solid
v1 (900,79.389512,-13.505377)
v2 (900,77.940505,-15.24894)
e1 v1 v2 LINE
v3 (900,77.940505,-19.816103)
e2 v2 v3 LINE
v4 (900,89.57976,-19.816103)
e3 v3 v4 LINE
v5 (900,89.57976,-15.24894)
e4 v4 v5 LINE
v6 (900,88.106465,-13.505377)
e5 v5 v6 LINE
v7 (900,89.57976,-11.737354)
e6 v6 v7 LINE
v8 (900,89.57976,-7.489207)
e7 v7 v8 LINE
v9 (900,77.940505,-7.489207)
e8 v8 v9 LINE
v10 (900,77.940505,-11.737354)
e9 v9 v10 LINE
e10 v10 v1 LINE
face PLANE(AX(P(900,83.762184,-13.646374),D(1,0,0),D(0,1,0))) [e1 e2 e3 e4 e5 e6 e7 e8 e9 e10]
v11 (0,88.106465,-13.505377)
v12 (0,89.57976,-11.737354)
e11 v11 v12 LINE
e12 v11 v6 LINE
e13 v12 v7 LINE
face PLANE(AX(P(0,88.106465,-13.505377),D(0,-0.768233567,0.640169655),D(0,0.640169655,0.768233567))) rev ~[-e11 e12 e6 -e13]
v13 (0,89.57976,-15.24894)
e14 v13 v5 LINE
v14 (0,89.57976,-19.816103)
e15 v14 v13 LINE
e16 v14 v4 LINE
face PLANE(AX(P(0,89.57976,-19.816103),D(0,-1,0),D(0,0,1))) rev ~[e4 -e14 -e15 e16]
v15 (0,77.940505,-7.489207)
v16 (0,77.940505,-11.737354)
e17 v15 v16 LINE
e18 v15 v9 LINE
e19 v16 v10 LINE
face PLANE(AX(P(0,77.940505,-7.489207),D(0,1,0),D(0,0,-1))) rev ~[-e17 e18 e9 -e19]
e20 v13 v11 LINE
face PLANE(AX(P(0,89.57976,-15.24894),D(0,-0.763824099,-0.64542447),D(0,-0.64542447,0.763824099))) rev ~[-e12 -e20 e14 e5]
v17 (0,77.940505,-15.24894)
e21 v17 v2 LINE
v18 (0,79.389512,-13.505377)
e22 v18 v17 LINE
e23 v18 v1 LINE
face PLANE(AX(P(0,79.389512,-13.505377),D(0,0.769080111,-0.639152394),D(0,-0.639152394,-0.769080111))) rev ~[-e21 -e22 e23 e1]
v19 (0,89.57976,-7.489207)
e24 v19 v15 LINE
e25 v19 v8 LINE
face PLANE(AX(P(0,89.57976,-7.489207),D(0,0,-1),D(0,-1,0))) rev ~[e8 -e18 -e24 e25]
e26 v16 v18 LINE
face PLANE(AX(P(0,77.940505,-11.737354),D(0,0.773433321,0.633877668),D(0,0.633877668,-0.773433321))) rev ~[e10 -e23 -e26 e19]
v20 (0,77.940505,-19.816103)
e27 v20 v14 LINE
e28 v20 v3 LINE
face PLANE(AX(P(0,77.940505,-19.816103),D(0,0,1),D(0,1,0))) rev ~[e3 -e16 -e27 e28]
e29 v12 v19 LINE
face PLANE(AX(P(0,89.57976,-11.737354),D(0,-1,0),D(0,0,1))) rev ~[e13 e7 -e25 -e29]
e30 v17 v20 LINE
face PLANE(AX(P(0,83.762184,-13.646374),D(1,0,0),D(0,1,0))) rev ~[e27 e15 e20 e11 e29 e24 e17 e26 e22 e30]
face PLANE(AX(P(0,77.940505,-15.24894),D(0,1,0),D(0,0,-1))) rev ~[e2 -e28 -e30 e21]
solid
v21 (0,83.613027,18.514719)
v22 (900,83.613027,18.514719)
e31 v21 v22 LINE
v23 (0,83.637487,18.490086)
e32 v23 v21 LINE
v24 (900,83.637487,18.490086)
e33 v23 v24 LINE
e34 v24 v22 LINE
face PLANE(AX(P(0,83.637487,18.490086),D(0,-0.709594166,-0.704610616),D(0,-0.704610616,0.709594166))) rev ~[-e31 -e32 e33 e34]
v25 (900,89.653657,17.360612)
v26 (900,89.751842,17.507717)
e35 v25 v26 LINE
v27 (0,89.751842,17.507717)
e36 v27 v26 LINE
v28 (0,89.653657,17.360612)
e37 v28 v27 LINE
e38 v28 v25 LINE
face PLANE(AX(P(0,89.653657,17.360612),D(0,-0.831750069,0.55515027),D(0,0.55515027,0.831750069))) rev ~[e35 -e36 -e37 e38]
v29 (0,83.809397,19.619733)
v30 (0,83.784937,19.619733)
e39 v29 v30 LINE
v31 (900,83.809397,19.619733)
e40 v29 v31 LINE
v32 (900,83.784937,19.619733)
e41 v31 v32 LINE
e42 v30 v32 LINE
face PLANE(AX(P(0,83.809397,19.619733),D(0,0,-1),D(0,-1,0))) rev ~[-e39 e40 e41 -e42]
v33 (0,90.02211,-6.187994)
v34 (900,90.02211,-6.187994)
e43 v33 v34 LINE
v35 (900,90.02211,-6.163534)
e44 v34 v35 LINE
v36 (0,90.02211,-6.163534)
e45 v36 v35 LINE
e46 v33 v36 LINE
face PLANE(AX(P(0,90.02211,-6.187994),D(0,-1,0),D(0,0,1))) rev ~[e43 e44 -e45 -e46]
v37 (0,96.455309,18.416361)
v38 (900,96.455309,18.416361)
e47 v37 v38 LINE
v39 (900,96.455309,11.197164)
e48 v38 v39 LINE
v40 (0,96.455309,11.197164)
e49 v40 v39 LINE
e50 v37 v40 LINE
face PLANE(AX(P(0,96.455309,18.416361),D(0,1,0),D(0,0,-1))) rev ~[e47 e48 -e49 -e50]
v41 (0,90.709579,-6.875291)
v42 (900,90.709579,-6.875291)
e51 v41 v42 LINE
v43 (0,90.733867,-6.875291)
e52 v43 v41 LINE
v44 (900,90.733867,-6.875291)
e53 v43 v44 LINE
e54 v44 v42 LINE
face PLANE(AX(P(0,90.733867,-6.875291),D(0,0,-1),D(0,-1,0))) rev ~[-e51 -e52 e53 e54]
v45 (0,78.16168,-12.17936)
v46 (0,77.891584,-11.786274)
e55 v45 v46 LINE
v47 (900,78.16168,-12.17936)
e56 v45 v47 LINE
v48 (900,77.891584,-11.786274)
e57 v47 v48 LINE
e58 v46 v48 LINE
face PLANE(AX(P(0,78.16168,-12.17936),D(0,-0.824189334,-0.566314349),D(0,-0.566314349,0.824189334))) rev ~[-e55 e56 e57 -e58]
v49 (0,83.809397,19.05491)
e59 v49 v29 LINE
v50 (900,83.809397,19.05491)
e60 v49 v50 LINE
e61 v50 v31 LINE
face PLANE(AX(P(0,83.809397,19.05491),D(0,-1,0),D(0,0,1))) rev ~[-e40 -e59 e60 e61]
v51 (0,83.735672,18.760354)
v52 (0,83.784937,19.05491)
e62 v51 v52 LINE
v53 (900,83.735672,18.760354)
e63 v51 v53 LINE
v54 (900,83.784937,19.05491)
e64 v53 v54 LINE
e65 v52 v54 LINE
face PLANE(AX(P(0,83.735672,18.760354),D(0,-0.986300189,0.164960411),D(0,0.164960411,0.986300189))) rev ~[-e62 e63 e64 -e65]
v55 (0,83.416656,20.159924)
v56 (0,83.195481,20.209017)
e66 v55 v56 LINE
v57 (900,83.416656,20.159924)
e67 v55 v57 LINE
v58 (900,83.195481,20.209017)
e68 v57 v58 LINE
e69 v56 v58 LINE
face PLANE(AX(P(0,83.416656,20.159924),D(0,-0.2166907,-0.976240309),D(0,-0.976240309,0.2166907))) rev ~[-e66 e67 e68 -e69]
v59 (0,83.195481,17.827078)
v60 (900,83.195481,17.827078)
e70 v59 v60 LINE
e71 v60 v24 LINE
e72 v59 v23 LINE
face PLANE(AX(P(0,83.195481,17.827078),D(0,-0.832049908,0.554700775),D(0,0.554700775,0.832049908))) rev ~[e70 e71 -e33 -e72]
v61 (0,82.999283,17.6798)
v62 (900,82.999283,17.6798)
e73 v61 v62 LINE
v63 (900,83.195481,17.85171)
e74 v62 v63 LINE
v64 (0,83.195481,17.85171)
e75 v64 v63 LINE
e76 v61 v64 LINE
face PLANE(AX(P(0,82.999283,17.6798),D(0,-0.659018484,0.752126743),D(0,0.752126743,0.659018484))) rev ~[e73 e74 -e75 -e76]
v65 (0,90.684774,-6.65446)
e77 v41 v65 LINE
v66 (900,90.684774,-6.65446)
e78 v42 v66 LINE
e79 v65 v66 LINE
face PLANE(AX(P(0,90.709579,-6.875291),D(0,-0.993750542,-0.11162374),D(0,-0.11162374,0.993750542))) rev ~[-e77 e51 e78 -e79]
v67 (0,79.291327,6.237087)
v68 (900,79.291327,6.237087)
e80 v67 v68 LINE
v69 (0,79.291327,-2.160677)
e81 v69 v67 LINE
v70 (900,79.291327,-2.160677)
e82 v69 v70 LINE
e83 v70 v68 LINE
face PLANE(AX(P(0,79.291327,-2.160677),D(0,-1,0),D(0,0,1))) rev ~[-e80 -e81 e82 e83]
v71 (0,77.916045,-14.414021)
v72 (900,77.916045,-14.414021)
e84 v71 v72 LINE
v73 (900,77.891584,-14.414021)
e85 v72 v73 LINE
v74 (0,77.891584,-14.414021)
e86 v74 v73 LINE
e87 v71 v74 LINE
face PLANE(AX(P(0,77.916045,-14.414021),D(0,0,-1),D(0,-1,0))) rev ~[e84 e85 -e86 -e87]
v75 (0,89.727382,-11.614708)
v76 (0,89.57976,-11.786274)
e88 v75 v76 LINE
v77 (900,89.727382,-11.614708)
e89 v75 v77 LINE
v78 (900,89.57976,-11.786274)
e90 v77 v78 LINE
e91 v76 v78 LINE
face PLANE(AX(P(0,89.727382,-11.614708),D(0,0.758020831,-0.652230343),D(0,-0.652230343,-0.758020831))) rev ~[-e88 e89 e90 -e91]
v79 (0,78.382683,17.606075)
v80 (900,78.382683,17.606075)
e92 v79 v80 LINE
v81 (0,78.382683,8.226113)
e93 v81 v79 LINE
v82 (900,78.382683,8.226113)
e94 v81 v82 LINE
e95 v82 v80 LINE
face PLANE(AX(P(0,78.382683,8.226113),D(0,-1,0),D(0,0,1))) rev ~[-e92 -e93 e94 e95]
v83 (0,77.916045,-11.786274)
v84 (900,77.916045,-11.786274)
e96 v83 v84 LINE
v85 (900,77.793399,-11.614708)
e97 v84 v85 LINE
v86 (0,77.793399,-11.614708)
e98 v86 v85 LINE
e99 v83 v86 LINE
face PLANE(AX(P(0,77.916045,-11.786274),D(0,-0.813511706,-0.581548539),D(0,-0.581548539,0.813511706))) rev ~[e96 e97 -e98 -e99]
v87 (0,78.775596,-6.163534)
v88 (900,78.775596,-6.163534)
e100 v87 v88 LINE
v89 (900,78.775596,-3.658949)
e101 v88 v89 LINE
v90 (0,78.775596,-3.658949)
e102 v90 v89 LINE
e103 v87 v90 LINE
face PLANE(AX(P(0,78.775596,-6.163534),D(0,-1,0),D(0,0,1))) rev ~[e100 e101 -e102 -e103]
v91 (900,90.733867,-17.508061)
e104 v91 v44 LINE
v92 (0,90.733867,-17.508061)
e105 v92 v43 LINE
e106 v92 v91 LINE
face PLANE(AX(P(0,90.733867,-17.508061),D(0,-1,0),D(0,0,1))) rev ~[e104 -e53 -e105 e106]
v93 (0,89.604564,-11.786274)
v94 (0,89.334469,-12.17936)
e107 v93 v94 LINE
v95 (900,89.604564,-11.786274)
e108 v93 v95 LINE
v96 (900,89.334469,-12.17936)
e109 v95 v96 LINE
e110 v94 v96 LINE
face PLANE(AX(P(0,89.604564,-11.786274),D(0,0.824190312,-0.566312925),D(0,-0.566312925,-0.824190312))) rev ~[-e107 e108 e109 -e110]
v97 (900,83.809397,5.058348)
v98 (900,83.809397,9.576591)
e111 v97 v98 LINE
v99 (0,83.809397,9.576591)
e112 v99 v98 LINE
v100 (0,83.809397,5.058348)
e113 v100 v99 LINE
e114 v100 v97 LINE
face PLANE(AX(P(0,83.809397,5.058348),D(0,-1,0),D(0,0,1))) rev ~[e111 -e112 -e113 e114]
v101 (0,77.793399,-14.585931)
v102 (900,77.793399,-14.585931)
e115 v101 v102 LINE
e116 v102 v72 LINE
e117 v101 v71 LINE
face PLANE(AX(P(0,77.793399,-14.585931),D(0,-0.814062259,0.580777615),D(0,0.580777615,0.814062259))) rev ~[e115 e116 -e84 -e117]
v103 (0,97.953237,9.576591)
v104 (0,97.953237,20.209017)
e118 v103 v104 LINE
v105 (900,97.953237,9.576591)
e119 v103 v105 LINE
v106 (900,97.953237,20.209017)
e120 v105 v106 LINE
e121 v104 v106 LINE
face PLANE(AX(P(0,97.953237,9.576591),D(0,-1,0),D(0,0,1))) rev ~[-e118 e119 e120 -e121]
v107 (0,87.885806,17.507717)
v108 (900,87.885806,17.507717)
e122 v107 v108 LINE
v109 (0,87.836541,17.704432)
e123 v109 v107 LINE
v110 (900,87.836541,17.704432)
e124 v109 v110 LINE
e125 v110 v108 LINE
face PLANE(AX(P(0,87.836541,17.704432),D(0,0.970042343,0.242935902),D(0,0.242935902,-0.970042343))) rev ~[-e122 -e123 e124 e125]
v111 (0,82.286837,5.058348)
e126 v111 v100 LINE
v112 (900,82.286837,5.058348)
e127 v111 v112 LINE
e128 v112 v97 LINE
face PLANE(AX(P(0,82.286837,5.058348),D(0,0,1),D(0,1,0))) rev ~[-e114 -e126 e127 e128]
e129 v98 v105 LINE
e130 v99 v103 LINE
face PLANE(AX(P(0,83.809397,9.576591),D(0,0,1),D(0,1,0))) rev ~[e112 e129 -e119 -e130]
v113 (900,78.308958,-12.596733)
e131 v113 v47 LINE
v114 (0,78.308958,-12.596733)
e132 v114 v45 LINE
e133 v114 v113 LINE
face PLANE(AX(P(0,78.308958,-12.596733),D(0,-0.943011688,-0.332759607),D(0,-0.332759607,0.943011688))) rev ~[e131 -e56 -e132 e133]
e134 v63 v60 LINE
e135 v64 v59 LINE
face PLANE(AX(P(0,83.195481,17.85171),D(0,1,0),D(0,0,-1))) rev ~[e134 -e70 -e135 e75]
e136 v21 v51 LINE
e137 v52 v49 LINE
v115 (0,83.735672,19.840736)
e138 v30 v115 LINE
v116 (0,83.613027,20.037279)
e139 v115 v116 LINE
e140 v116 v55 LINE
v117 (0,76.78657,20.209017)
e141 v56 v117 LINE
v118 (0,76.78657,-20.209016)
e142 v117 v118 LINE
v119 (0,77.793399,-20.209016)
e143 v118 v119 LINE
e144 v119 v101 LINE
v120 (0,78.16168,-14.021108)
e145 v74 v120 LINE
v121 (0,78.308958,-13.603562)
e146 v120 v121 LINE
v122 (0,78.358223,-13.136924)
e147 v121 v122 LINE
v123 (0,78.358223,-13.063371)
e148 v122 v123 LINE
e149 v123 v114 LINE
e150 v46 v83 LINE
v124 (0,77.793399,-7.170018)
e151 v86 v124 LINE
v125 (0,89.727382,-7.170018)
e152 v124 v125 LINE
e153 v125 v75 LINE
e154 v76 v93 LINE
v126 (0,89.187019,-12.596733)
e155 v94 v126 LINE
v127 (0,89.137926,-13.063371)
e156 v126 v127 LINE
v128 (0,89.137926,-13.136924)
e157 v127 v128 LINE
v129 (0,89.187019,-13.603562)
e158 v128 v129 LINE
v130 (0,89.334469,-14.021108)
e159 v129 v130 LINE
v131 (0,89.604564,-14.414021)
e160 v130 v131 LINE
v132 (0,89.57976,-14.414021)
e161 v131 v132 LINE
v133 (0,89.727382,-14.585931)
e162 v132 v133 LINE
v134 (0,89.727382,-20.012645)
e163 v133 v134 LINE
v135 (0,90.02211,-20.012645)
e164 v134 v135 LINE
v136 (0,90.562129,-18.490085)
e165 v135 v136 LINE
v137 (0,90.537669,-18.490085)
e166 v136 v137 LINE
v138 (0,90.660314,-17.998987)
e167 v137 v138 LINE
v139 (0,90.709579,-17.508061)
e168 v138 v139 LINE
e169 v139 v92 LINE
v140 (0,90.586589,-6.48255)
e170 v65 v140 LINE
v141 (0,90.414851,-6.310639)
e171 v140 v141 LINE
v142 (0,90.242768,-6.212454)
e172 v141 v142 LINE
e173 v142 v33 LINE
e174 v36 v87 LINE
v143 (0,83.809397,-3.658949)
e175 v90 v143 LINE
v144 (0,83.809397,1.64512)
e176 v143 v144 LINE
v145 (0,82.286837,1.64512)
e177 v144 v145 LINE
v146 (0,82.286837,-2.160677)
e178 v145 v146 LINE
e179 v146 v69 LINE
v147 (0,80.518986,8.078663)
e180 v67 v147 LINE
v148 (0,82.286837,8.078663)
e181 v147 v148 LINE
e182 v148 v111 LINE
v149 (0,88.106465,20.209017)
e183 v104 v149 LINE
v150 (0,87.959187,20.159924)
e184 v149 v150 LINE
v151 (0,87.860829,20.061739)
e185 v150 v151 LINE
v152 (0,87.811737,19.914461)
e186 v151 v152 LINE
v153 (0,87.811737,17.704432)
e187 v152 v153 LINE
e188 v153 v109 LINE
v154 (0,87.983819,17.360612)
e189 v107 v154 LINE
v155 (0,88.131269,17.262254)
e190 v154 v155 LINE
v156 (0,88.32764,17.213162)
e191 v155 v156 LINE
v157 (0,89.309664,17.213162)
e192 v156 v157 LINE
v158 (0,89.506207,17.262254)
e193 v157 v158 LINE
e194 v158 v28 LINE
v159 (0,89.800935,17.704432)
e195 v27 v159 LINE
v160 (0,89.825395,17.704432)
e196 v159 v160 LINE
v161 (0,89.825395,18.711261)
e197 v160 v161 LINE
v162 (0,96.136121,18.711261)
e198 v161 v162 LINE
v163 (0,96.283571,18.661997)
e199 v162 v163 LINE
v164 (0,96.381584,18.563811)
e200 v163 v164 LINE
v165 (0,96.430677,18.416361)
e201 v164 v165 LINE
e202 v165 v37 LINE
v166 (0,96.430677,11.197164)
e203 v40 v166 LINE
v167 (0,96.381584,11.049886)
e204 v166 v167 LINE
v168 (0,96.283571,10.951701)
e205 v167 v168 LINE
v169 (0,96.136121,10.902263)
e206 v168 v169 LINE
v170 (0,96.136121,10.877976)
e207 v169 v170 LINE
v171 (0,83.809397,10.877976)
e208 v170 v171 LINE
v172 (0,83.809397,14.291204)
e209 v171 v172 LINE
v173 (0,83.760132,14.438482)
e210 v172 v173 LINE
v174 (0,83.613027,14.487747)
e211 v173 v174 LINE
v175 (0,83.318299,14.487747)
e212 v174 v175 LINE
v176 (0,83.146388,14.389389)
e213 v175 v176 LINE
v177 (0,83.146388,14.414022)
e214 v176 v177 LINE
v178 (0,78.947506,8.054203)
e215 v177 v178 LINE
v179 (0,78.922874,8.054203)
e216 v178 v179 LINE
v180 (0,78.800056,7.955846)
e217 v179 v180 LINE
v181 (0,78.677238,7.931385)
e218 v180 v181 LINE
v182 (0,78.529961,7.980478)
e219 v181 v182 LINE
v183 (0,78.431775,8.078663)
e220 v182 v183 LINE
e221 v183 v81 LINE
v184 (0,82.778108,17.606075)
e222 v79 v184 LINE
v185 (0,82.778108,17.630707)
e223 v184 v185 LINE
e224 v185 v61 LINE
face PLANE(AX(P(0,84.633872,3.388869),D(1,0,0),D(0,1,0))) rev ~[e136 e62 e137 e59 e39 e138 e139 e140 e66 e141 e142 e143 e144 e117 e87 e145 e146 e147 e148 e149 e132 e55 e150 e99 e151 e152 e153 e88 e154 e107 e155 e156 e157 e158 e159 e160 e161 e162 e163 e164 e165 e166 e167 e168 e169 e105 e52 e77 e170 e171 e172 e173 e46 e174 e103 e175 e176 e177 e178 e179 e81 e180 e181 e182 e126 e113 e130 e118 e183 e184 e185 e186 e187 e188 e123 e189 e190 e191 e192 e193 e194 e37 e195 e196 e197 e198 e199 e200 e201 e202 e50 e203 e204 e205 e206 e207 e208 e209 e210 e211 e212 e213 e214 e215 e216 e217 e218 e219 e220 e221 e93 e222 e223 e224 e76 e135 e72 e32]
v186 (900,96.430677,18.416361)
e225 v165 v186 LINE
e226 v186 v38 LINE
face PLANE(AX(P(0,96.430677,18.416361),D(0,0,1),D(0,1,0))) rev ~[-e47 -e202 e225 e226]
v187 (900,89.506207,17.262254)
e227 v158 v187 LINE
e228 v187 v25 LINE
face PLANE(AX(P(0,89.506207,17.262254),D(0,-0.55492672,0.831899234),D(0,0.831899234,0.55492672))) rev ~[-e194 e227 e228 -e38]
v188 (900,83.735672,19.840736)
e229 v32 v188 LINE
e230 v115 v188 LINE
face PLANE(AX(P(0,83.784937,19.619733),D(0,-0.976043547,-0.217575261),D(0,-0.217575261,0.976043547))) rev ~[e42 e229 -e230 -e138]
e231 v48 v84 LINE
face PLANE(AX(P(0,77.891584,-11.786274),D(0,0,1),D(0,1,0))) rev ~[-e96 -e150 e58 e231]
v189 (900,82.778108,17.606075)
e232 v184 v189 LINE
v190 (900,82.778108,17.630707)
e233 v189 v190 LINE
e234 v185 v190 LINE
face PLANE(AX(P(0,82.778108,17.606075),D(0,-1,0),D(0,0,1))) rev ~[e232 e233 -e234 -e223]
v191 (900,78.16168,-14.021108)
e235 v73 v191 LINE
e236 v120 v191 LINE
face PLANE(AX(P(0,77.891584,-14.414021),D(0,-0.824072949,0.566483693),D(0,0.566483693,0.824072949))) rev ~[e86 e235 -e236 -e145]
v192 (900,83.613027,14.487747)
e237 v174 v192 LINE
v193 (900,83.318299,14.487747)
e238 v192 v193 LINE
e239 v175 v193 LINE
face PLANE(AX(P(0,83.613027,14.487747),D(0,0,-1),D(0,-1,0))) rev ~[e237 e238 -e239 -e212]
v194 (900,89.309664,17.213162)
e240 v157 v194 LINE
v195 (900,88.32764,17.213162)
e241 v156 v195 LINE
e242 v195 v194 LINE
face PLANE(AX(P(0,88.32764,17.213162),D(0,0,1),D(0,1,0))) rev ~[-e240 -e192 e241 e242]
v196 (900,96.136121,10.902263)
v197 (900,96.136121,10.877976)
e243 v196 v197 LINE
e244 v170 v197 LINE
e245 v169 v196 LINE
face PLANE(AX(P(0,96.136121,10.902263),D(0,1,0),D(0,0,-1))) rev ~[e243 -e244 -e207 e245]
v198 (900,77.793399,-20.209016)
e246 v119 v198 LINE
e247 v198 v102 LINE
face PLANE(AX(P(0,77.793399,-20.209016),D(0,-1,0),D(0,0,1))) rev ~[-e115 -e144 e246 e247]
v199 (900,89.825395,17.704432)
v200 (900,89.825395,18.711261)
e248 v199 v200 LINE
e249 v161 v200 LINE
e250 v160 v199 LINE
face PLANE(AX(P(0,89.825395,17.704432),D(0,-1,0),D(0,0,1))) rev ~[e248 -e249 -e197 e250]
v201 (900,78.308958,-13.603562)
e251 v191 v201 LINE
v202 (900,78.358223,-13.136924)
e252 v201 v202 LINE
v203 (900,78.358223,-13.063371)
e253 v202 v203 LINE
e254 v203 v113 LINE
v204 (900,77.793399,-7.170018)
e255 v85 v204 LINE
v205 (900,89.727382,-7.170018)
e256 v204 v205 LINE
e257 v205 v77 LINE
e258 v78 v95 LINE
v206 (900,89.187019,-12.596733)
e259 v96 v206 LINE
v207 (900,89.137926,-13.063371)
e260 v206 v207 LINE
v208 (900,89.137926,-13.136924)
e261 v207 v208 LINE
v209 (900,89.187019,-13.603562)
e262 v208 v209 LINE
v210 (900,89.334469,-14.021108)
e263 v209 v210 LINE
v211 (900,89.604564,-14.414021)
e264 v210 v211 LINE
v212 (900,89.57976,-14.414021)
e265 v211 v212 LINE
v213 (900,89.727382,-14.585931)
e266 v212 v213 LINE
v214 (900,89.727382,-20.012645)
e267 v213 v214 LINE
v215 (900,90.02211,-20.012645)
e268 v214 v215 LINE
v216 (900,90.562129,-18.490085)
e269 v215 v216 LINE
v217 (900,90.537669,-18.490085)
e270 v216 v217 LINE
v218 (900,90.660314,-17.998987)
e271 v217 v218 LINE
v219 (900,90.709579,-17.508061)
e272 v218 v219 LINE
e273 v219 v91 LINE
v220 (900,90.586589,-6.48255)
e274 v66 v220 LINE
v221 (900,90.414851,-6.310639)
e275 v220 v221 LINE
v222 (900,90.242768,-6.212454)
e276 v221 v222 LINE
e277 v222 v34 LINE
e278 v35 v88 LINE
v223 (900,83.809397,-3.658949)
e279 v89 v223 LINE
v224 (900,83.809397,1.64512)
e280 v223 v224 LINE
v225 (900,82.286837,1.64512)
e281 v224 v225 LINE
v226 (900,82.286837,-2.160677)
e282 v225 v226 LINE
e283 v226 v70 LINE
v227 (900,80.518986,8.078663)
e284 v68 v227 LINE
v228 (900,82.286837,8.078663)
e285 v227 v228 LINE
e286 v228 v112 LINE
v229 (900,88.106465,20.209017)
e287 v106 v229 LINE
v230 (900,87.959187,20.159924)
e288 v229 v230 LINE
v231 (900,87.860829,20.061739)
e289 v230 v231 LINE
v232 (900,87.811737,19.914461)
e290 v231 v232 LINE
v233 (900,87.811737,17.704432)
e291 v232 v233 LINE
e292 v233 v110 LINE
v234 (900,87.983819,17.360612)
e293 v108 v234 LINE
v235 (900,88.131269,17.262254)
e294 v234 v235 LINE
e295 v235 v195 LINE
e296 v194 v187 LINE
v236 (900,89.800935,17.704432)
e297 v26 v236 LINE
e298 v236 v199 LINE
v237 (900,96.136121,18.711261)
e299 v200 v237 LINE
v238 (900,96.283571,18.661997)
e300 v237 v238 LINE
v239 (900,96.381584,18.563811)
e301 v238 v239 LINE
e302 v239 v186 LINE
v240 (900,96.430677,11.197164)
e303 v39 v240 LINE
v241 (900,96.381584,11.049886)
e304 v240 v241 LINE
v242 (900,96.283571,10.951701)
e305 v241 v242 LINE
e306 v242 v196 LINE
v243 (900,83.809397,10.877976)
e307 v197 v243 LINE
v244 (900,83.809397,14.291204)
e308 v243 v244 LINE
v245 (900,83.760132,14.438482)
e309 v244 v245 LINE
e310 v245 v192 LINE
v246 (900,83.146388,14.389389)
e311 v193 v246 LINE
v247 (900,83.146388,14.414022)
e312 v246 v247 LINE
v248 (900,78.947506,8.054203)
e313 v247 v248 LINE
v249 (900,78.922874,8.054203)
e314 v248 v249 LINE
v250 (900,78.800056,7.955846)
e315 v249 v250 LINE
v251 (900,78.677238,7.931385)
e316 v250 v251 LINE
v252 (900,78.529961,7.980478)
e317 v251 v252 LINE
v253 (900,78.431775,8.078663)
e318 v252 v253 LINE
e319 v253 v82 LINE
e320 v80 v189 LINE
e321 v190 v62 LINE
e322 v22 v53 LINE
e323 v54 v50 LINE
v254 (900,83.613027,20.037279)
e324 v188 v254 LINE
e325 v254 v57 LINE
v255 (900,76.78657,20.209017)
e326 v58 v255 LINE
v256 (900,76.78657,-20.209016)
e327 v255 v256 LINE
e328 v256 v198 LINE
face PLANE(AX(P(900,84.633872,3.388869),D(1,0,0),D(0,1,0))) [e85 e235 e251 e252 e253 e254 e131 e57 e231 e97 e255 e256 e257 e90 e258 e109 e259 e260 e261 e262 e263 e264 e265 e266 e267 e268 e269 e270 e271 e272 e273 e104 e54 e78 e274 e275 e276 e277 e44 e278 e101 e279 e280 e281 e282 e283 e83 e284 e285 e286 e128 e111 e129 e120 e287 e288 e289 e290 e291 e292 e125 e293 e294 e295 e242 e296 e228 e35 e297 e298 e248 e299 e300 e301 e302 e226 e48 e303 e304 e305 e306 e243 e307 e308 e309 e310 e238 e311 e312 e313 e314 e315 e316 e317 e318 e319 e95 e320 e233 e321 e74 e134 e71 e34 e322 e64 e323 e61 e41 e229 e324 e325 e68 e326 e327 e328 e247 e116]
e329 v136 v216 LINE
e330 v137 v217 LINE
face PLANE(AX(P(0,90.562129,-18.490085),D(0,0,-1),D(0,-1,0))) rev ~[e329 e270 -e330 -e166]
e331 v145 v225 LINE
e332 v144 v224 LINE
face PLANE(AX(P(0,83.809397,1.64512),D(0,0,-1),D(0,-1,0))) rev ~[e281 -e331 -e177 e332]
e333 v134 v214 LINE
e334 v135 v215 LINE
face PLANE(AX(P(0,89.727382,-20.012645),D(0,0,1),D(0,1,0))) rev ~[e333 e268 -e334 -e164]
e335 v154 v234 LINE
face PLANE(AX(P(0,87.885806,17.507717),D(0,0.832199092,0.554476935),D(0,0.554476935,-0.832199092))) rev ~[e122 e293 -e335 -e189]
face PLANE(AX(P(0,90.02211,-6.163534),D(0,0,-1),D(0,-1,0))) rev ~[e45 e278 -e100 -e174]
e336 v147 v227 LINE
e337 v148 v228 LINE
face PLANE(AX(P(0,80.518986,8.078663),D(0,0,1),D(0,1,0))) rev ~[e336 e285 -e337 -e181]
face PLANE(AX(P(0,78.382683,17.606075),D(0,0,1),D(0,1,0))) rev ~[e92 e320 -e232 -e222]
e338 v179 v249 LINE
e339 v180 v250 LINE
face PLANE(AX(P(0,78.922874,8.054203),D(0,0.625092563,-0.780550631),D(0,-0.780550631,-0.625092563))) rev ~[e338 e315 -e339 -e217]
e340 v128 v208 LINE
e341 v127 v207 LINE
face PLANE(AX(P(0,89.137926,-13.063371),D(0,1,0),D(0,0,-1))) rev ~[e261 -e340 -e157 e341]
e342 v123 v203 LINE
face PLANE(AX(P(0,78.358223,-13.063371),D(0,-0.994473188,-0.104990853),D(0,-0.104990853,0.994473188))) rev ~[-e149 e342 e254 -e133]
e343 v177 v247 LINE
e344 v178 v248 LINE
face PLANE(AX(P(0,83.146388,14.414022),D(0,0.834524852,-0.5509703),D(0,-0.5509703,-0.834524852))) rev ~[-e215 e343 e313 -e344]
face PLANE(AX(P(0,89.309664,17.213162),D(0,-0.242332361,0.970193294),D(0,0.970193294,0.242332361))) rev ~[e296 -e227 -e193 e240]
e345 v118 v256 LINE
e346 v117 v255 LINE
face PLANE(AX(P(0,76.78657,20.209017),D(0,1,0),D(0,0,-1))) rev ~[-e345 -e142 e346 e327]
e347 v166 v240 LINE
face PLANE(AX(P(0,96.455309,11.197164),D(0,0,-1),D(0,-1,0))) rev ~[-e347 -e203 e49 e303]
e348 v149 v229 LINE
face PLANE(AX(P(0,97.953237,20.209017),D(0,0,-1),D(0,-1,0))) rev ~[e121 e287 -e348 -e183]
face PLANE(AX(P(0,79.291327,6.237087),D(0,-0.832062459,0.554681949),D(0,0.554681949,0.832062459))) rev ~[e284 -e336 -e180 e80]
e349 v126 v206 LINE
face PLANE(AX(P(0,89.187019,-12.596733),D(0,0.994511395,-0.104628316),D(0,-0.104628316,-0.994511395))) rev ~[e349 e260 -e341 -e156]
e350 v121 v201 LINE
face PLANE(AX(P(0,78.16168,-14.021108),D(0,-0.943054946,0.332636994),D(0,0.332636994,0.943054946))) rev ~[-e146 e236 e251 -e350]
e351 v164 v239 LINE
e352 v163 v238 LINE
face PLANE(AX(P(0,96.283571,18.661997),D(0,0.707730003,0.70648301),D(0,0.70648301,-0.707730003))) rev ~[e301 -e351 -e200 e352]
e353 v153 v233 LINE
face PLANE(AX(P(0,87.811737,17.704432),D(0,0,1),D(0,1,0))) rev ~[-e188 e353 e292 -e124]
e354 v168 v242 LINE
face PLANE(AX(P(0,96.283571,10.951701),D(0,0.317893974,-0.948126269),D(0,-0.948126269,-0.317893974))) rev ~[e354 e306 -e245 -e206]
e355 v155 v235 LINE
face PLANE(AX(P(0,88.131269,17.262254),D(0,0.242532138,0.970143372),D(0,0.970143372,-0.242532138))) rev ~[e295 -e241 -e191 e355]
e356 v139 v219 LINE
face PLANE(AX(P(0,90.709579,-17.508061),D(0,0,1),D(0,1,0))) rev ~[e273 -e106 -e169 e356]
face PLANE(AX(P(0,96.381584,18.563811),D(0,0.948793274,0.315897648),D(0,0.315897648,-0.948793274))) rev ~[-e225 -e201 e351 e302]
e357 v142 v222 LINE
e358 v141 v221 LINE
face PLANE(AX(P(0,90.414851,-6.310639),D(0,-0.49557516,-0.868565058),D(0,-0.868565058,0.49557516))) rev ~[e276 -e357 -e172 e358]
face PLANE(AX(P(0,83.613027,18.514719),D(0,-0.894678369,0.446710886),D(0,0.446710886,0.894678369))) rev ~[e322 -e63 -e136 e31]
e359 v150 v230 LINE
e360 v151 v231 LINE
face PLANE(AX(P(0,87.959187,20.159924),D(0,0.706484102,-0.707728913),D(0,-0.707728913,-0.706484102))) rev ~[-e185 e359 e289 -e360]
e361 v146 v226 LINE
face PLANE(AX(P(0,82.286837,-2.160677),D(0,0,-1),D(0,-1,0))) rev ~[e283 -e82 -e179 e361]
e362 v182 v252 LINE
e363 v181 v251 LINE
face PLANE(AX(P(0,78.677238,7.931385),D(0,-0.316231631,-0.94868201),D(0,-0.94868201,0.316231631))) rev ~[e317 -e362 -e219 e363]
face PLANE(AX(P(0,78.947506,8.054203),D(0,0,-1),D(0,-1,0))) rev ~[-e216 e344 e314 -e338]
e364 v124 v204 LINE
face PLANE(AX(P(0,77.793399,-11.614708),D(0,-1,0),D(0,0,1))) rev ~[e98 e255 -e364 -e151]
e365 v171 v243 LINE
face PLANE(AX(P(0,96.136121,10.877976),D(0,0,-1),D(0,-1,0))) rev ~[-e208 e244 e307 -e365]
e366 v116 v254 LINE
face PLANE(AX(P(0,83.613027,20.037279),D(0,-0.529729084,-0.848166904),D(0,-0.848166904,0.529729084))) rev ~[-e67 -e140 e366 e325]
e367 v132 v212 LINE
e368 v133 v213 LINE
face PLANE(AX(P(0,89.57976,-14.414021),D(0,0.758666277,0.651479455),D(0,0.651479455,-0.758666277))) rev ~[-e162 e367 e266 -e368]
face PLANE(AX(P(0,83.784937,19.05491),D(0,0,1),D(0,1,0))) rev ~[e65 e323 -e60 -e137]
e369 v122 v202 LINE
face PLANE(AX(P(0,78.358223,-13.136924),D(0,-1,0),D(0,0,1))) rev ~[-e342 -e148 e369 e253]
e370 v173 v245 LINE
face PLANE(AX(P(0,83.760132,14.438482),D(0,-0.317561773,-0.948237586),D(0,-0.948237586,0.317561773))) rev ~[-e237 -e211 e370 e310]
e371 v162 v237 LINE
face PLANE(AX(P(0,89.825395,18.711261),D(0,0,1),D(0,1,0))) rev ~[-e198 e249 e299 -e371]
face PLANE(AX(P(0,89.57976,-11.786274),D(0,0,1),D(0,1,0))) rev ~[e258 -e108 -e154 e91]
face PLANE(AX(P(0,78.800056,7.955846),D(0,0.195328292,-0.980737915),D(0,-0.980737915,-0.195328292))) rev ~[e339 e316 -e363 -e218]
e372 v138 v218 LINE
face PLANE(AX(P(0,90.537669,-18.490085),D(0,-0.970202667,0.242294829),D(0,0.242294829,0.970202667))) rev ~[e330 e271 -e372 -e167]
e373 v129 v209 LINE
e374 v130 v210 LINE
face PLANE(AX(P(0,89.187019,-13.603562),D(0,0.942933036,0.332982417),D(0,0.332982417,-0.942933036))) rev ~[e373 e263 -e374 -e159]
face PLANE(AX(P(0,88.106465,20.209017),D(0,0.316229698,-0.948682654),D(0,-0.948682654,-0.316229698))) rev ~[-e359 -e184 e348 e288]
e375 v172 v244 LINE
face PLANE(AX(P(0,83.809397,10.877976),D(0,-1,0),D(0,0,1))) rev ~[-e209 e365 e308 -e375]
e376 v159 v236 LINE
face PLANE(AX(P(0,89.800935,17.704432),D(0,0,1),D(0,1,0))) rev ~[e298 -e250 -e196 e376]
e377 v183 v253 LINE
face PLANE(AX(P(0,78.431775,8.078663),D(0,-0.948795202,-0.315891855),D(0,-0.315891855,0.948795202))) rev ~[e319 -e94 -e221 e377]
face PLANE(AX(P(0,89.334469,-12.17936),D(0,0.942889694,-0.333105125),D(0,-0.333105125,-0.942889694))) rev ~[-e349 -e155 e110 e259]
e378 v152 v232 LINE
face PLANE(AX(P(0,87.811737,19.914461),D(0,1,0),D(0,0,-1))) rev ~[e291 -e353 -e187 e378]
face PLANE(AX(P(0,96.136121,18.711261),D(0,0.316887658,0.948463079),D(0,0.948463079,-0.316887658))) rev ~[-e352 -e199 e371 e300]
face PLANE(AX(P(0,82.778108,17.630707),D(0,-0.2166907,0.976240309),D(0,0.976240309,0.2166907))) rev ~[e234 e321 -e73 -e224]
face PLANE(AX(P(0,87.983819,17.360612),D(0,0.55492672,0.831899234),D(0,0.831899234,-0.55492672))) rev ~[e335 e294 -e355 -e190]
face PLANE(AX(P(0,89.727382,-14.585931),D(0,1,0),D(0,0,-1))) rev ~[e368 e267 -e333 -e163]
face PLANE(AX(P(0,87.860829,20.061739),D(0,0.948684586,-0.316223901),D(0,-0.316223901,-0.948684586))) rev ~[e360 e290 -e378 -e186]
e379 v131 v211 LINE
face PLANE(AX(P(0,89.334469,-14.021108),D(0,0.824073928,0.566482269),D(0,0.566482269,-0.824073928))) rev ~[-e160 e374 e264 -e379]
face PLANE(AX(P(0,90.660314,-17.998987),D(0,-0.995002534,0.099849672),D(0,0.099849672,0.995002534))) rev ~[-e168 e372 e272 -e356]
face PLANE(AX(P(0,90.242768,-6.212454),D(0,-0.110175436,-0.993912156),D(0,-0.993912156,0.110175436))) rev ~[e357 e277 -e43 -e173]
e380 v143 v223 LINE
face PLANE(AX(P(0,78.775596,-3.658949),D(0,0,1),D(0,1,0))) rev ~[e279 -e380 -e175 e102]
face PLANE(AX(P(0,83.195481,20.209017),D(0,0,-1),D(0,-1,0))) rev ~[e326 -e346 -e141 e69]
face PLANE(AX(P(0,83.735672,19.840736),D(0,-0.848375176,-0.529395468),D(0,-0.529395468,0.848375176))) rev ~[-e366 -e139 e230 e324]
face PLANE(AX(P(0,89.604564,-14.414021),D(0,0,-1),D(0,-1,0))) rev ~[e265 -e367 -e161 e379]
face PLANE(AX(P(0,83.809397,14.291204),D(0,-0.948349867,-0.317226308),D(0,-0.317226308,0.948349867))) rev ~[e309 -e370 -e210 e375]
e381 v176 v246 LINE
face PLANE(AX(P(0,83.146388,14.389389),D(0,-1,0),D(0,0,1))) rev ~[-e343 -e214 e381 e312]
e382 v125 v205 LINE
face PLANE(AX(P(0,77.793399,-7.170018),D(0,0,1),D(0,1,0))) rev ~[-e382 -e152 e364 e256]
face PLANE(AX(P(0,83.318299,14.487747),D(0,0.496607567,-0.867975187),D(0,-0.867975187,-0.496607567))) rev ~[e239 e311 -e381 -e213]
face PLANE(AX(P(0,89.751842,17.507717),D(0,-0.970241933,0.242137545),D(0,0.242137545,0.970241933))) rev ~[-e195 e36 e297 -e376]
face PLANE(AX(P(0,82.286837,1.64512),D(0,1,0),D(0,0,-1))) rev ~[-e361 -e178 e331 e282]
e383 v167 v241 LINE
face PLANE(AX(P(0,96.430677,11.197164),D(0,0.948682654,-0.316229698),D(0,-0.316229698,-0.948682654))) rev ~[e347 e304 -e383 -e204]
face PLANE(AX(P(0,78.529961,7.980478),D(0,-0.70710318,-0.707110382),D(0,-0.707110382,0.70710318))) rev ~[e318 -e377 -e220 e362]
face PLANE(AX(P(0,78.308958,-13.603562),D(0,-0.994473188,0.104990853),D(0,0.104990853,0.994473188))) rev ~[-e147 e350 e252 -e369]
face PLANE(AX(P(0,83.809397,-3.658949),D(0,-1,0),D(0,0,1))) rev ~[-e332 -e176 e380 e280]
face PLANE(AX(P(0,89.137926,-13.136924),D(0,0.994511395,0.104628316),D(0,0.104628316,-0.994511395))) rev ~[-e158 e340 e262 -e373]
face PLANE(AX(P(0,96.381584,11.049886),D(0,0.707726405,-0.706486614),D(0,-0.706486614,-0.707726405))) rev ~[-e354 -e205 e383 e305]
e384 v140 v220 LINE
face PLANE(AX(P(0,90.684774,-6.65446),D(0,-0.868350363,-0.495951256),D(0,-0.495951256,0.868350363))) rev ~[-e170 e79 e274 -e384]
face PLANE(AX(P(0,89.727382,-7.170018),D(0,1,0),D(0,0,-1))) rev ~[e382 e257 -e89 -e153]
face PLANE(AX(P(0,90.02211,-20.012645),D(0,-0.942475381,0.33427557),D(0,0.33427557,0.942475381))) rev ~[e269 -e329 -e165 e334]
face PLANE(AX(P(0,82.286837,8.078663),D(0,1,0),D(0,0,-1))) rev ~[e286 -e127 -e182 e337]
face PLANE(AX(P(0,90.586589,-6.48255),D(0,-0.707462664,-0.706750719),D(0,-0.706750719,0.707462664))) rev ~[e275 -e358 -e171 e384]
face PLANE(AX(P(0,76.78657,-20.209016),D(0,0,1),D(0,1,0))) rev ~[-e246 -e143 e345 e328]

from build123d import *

# Parameters (mm, degrees)
F1_DEPTH = 900


with BuildPart() as f1:
    # F0 (on Right) → F1 (new body)
    with BuildSketch(Plane.YZ):
        Polygon((97.953237, 9.576591), (97.953237, 20.209017), (88.106465, 20.209017), (87.959187, 20.159924), (87.860829, 20.061739), (87.811737, 19.914461), (87.811737, 17.704432), (87.836541, 17.704432), (87.885806, 17.507717), (87.983819, 17.360612), (88.131269, 17.262254), (88.32764, 17.213162), (89.309664, 17.213162), (89.506207, 17.262254), (89.653657, 17.360612), (89.751842, 17.507717), (89.800935, 17.704432), (89.825395, 17.704432), (89.825395, 18.711261), (96.136121, 18.711261), (96.283571, 18.661997), (96.381584, 18.563811), (96.430677, 18.416361), (96.455309, 18.416361), (96.455309, 11.197164), (96.430677, 11.197164), (96.381584, 11.049886), (96.283571, 10.951701), (96.136121, 10.902263), (96.136121, 10.877976), (83.809397, 10.877976), (83.809397, 14.291204), (83.760132, 14.438482), (83.613027, 14.487747), (83.318299, 14.487747), (83.146388, 14.389389), (83.146388, 14.414022), (78.947506, 8.054203), (78.922874, 8.054203), (78.800056, 7.955846), (78.677238, 7.931385), (78.529961, 7.980478), (78.431775, 8.078663), (78.382683, 8.226113), (78.382683, 17.606075), (82.778108, 17.606075), (82.778108, 17.630707), (82.999283, 17.6798), (83.195481, 17.85171), (83.195481, 17.827078), (83.637487, 18.490086), (83.613027, 18.514719), (83.735672, 18.760354), (83.784937, 19.05491), (83.809397, 19.05491), (83.809397, 19.619733), (83.784937, 19.619733), (83.735672, 19.840736), (83.613027, 20.037279), (83.416656, 20.159924), (83.195481, 20.209017), (76.78657, 20.209017), (76.78657, -20.209016), (77.793399, -20.209016), (77.793399, -14.585931), (77.916045, -14.414021), (77.891584, -14.414021), (78.16168, -14.021108), (78.308958, -13.603562), (78.358223, -13.136924), (78.358223, -13.063371), (78.308958, -12.596733), (78.16168, -12.17936), (77.891584, -11.786274), (77.916045, -11.786274), (77.793399, -11.614708), (77.793399, -7.170018), (89.727382, -7.170018), (89.727382, -11.614708), (89.57976, -11.786274), (89.604564, -11.786274), (89.334469, -12.17936), (89.187019, -12.596733), (89.137926, -13.063371), (89.137926, -13.136924), (89.187019, -13.603562), (89.334469, -14.021108), (89.604564, -14.414021), (89.57976, -14.414021), (89.727382, -14.585931), (89.727382, -20.012645), (90.02211, -20.012645), (90.562129, -18.490085), (90.537669, -18.490085), (90.660314, -17.998987), (90.709579, -17.508061), (90.733867, -17.508061), (90.733867, -6.875291), (90.709579, -6.875291), (90.684774, -6.65446), (90.586589, -6.48255), (90.414851, -6.310639), (90.242768, -6.212454), (90.02211, -6.187994), (90.02211, -6.163534), (78.775596, -6.163534), (78.775596, -3.658949), (83.809397, -3.658949), (83.809397, 1.64512), (82.286837, 1.64512), (82.286837, -2.160677), (79.291327, -2.160677), (79.291327, 6.237087), (80.518986, 8.078663), (81.402912, 8.078663), (82.286837, 8.078663), (82.286837, 5.058348), (83.809397, 5.058348), (83.809397, 9.576591), align=None)
        Polygon((77.940505, -7.489207), (77.940505, -11.737354), (79.389512, -13.505377), (77.940505, -15.24894), (77.940505, -19.816103), (89.57976, -19.816103), (89.57976, -15.24894), (88.106465, -13.505377), (89.57976, -11.737354), (89.57976, -7.489207), align=None)
    extrude(amount=F1_DEPTH)


solid = f1.part
